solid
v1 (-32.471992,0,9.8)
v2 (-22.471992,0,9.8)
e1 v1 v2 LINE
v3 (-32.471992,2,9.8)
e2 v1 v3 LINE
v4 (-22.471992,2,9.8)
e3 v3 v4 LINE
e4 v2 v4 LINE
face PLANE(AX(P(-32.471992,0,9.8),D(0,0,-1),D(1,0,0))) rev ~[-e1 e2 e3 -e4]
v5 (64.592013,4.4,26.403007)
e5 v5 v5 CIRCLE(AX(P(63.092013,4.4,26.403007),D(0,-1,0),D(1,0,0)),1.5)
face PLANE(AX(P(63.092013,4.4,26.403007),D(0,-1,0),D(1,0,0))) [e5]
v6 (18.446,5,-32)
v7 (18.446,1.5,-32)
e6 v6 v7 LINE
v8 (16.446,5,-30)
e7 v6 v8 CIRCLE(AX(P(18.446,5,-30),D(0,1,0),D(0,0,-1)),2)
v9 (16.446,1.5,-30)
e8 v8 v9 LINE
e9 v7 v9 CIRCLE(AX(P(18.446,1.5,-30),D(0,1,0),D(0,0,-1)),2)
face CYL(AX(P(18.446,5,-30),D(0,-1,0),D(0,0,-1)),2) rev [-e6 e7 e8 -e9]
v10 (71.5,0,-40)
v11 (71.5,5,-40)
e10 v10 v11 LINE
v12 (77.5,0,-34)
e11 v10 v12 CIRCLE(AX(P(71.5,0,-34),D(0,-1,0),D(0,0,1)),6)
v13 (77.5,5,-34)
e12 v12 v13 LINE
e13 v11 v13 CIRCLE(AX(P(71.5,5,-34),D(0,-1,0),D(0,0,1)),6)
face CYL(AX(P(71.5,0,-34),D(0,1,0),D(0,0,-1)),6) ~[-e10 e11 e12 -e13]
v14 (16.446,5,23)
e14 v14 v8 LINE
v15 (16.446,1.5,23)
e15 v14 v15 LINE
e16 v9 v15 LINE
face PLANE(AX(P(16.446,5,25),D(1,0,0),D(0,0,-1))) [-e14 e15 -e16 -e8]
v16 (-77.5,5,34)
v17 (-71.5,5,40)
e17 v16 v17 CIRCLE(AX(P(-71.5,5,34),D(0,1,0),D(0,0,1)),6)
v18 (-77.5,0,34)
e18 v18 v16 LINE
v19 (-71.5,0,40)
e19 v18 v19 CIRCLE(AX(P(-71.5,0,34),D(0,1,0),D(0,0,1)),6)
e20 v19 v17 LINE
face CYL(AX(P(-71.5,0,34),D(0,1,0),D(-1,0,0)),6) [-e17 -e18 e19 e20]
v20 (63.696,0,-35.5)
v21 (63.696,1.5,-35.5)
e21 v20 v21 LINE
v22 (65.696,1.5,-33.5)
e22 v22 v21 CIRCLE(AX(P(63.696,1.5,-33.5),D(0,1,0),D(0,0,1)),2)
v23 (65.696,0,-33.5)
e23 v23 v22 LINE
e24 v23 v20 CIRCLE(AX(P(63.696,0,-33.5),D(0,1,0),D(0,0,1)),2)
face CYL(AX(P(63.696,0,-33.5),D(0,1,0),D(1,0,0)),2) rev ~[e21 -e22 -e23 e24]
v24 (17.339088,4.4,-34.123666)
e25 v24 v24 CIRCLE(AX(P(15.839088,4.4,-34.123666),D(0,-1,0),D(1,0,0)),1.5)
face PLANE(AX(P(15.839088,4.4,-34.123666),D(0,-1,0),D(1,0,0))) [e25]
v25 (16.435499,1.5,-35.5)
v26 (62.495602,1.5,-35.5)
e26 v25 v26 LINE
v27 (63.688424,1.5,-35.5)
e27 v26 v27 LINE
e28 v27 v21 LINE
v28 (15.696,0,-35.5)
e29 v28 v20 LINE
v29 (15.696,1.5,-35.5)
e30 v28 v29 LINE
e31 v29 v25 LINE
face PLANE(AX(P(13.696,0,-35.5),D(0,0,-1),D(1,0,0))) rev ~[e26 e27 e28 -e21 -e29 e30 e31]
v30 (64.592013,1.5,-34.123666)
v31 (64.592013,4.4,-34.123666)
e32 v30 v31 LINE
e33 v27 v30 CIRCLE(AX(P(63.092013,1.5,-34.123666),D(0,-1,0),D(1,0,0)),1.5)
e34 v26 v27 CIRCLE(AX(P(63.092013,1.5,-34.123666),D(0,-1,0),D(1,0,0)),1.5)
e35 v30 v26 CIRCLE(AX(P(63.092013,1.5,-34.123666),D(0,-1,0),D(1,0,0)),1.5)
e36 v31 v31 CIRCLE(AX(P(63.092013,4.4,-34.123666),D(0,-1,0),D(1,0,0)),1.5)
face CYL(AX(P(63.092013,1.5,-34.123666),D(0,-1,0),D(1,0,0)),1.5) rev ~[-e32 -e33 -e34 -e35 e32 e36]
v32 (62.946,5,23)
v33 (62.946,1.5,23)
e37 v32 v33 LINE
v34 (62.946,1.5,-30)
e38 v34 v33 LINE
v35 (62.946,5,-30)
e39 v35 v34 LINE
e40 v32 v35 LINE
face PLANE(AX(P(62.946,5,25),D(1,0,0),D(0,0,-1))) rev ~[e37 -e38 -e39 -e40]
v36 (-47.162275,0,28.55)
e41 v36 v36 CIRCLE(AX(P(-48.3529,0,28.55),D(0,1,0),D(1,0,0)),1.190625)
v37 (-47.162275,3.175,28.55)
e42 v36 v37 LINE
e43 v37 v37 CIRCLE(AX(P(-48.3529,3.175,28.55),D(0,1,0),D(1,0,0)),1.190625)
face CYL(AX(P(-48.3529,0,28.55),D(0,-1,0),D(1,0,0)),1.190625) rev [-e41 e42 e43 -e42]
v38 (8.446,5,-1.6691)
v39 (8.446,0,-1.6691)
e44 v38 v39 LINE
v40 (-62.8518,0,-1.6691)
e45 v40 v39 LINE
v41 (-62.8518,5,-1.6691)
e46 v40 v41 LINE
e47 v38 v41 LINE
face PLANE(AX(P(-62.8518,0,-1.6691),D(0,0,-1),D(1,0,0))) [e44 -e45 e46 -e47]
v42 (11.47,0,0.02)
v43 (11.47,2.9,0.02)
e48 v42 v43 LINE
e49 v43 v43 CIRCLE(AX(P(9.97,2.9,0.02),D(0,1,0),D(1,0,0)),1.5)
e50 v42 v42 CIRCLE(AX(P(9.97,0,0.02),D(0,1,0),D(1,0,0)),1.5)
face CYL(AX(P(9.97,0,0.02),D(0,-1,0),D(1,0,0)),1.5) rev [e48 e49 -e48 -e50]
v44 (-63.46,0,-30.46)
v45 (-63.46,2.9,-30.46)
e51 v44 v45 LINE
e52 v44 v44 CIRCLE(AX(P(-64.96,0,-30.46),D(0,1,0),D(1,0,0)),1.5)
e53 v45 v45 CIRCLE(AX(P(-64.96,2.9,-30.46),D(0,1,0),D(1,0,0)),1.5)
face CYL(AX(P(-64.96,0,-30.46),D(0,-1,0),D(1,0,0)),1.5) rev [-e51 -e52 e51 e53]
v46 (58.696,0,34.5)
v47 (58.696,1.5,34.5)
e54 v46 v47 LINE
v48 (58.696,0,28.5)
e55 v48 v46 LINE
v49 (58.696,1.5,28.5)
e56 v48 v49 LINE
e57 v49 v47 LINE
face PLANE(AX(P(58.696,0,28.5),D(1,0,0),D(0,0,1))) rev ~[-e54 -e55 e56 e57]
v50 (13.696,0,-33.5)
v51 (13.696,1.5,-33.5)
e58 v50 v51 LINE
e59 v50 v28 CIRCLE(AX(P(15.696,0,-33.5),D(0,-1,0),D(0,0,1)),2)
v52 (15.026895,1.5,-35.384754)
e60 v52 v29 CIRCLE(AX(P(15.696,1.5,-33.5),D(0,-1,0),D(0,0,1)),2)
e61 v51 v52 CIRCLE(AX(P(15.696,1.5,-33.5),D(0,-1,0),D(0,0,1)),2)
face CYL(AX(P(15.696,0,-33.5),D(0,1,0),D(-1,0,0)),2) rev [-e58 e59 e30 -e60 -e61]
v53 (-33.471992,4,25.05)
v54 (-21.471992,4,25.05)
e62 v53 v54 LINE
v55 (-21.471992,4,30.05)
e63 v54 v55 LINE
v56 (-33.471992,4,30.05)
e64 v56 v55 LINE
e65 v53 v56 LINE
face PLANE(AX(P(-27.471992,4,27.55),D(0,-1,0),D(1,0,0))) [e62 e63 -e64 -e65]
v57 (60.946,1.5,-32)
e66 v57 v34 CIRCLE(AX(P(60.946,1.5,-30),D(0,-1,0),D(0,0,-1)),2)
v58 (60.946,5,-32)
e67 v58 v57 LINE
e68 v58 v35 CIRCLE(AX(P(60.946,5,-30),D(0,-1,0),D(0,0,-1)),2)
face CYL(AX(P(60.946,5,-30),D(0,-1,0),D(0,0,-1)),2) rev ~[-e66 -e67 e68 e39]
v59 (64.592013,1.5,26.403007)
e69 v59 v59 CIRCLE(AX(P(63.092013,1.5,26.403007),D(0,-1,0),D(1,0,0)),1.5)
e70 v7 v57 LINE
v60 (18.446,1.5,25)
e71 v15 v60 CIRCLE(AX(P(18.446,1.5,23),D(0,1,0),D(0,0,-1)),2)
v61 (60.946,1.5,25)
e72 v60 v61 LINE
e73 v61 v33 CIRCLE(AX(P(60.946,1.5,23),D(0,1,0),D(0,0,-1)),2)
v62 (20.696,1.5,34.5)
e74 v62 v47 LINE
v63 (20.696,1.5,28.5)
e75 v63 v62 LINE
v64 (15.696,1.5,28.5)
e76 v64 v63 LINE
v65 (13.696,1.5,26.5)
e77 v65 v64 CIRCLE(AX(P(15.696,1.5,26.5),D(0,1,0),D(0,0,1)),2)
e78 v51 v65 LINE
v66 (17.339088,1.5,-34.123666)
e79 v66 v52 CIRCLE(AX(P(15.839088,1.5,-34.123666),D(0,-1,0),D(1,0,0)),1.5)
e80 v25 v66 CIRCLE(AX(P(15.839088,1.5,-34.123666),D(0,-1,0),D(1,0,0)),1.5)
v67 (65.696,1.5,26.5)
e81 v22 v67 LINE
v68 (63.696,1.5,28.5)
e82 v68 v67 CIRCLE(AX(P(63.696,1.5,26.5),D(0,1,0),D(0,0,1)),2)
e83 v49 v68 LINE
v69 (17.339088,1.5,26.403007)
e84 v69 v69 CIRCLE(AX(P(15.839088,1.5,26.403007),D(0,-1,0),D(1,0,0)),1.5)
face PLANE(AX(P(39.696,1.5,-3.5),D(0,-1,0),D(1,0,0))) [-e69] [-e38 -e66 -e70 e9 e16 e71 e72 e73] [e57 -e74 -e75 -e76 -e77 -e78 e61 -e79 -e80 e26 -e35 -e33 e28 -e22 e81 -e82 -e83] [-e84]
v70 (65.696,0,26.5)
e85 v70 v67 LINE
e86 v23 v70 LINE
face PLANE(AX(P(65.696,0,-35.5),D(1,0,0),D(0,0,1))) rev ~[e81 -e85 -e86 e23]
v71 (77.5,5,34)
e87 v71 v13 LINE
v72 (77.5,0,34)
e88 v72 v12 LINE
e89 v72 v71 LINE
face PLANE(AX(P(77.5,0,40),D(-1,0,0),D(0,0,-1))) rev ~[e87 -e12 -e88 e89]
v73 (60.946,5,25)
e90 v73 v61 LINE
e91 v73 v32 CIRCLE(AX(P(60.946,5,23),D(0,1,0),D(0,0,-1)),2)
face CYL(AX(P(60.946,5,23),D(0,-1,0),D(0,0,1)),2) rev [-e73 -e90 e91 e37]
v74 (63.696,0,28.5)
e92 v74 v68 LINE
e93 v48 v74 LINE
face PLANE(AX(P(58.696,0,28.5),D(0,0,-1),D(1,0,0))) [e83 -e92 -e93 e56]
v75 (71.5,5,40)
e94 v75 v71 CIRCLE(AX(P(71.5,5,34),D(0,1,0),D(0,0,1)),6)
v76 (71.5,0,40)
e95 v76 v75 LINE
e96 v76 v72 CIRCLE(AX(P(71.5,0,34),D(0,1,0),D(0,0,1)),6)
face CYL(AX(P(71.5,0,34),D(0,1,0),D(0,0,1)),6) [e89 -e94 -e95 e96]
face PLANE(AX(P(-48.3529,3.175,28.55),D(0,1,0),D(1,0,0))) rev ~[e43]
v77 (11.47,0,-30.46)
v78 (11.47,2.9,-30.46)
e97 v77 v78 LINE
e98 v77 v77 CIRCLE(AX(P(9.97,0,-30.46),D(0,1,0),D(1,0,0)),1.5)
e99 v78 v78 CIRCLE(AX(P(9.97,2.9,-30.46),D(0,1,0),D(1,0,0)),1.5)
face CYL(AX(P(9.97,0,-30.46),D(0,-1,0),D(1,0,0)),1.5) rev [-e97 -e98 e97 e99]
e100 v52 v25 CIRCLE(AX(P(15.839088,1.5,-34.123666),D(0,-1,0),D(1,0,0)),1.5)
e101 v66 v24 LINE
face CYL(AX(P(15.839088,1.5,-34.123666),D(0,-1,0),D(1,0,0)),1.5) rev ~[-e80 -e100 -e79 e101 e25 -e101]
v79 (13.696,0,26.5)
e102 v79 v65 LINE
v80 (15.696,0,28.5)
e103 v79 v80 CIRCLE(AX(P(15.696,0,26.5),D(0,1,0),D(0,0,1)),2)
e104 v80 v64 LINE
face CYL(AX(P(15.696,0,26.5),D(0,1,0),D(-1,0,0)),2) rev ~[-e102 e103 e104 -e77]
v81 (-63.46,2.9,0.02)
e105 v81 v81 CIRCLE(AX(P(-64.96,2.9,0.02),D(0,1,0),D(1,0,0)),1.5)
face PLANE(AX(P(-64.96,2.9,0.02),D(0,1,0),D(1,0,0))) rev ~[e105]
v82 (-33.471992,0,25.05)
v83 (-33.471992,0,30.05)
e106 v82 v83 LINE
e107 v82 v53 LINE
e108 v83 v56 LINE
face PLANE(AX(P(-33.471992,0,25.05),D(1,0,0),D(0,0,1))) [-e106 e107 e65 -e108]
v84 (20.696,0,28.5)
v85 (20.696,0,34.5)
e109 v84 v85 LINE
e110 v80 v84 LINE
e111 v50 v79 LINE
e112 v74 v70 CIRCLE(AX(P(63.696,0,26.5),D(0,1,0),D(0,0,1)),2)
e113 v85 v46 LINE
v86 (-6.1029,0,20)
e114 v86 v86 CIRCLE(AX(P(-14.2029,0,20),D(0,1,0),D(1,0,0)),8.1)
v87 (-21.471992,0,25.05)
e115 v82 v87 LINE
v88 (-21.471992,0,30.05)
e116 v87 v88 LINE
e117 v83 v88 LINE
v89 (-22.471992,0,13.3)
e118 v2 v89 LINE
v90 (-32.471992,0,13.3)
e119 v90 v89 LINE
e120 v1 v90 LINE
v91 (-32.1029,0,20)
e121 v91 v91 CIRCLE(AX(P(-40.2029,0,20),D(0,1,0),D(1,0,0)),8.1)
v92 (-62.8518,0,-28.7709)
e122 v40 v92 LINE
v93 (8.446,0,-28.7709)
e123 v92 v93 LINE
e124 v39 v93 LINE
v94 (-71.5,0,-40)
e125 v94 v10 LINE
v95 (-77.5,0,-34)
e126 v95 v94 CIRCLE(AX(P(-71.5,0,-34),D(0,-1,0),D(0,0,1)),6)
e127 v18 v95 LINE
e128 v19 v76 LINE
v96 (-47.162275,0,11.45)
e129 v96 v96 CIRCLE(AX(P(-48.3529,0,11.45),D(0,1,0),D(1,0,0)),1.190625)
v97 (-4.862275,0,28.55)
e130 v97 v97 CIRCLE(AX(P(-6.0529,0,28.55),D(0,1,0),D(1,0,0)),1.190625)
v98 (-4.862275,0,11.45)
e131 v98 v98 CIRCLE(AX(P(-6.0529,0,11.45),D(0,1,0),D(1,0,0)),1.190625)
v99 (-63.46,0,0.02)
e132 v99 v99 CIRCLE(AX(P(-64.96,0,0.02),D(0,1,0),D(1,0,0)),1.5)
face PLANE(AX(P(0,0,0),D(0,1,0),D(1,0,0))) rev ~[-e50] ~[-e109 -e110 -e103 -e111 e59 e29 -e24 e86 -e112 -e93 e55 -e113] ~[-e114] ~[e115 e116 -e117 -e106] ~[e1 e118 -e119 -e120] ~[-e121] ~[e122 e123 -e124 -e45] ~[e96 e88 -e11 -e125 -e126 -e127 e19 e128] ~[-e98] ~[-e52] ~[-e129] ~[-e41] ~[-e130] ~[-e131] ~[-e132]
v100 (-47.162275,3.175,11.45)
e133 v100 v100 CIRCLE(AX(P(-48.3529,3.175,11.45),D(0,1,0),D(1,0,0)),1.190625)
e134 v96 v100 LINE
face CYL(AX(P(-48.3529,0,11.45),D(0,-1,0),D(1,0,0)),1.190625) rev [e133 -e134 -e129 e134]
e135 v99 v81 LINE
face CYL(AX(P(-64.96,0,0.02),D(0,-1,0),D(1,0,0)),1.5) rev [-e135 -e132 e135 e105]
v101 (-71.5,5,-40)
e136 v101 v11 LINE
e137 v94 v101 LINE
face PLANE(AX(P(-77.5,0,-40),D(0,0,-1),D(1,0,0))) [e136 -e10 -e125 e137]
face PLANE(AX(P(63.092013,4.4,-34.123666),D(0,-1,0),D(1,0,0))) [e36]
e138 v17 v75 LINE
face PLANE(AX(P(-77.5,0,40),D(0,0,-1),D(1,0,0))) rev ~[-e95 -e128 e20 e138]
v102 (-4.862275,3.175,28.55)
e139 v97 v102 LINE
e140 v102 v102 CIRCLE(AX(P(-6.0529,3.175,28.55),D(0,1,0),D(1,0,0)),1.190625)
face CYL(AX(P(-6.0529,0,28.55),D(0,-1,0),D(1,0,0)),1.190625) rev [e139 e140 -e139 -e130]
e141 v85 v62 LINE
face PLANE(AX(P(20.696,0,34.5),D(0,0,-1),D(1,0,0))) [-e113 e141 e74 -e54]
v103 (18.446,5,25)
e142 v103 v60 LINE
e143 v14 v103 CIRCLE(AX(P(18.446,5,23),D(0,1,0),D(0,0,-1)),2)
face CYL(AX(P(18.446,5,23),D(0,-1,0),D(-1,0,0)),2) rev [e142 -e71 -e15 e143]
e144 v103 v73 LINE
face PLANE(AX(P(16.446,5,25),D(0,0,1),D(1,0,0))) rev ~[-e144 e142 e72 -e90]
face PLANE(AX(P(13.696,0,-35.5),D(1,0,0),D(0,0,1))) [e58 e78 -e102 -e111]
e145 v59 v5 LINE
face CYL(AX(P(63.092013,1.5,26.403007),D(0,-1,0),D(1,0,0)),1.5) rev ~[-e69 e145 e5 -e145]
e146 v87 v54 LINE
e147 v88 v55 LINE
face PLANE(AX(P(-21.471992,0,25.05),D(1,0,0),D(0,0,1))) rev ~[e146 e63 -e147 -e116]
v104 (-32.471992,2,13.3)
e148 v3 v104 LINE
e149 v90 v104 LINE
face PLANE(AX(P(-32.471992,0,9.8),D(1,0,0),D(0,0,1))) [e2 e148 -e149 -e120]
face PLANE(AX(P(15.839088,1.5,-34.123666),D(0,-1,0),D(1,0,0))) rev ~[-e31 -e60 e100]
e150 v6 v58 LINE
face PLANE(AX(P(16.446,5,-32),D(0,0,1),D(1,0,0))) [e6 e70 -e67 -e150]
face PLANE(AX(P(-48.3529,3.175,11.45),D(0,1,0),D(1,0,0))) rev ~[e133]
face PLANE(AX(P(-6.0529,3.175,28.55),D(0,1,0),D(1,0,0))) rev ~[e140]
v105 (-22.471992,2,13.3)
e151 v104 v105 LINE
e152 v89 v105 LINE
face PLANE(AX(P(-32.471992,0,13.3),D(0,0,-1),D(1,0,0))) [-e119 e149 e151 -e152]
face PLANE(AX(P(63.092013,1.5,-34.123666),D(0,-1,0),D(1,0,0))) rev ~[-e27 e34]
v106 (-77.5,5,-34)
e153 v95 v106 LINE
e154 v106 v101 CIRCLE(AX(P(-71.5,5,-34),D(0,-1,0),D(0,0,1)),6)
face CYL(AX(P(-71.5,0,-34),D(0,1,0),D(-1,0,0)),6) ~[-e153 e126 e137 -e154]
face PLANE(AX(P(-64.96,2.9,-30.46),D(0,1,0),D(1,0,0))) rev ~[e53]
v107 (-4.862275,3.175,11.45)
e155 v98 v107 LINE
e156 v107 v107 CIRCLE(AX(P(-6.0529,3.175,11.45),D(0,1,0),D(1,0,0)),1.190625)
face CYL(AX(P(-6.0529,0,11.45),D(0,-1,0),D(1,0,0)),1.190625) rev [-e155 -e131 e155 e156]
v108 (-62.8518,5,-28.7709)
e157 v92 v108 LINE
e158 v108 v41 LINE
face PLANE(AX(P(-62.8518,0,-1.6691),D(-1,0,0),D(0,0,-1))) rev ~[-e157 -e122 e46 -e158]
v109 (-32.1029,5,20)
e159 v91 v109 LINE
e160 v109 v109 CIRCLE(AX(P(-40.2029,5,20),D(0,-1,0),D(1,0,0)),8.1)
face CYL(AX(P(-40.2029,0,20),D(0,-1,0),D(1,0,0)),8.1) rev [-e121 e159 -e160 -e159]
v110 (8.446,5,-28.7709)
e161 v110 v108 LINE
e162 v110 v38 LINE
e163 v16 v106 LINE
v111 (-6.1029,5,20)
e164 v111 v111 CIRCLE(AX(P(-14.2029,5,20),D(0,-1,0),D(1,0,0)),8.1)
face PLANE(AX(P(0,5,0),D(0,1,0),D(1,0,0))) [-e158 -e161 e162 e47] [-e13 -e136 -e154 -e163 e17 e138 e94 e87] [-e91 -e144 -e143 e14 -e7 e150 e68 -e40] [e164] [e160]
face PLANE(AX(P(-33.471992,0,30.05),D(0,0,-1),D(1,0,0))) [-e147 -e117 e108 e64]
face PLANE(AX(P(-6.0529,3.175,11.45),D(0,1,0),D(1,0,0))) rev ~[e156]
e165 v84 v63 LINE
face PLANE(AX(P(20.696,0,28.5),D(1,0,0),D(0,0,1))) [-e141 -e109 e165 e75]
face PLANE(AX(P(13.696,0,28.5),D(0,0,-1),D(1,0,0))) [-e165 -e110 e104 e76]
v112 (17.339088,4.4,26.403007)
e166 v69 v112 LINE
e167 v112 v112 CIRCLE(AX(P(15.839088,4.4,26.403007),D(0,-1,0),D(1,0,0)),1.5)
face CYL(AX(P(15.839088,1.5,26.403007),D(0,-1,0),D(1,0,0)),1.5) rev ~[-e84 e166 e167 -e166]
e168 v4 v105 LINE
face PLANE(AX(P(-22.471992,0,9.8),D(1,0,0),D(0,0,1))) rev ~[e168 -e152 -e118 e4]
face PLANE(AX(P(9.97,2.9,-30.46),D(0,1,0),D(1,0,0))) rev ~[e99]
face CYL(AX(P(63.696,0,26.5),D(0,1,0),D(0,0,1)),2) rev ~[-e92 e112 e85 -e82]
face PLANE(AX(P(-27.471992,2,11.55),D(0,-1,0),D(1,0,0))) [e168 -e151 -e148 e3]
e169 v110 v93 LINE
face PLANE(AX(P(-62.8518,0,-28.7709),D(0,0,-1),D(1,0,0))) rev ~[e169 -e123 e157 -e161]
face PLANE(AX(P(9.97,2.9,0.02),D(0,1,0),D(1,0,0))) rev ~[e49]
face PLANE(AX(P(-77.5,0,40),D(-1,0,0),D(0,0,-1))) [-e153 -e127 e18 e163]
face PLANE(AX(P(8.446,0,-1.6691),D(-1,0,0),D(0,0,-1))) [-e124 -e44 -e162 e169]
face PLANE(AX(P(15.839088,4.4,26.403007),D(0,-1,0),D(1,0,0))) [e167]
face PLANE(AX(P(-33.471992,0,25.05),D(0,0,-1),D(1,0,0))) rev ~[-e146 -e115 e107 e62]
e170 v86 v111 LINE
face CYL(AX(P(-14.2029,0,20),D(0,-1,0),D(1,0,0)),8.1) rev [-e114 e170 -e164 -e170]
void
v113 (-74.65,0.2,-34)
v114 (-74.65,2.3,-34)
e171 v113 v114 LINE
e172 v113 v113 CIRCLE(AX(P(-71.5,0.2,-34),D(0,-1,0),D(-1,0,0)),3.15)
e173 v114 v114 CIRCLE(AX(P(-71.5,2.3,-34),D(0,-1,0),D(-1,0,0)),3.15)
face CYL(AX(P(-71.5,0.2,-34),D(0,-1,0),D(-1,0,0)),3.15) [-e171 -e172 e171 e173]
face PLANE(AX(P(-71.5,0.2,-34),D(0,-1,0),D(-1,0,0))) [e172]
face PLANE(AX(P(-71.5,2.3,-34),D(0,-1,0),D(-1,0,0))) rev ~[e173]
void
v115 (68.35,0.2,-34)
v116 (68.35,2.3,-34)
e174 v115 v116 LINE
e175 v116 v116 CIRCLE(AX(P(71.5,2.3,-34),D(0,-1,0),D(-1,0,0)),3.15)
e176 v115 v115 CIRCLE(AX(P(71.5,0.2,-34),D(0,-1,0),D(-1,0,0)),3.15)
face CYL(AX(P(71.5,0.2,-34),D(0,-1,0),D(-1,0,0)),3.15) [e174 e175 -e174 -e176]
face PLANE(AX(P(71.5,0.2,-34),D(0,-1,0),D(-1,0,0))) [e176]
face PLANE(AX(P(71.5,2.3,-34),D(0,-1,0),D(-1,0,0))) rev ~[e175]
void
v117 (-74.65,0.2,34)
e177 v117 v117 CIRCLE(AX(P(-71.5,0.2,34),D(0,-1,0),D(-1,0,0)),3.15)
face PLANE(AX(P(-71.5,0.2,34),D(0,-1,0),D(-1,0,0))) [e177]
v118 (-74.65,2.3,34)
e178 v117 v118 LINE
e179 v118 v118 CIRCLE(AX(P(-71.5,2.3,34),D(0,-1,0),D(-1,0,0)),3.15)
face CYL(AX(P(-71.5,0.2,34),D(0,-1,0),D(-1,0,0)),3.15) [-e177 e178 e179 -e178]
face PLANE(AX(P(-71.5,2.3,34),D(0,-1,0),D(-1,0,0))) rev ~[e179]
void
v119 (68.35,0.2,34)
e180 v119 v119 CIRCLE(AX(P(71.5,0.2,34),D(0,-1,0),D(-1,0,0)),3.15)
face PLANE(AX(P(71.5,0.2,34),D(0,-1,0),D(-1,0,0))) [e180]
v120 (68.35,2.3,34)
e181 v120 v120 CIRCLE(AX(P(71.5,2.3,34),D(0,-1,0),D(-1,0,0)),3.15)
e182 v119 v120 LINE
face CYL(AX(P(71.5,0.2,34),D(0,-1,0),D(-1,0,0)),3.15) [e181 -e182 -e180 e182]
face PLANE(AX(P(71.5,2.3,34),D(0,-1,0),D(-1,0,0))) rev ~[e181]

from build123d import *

# Parameters (mm, degrees)
SKETCH1_W                = 155
SKETCH1_H                = 80
BOSS_EXTRUDE1_DEPTH      = 5
SKETCH2_W                = 71.2978
SKETCH2_H                = 27.1018
SCREEN_CUTOUT_DEPTH      = 88.357026048
SKETCH2_3_R              = 1.5
SKETCH2_3_W              = 71.2978
SKETCH2_3_H              = 27.1018
CUT_EXTRUDE4_DEPTH       = 2.9
SKETCH3_R                = 8.1
ULTRASOUND_CUTOUTS_DEPTH = 88.357026048
SKETCH3_3_R              = 8.1
SKETCH3_3_R_2            = 1.190625
CUT_EXTRUDE2_DEPTH       = 3.175
SKETCH5_W                = 12
SKETCH5_H                = 5
US_CLOCK_CUTOUT_DEPTH    = 4
SKETCH6_W                = 10
SKETCH6_H                = 3.5
US_PIN_CUTOUT_DEPTH      = 2
SKETCH9_R                = 3.15
MAGNET_HOLES_DEPTH       = 2.1
FILLET1_R                = 6
SKETCH10_W               = 46.5
SKETCH10_H               = 57
KEYPAD_CUTOUT_DEPTH      = 88.357026048
CUT_EXTRUDE1_DEPTH       = 1.5
FILLET3_R                = 2
FILLET4_R                = 2
SKETCH12_R               = 1.5
CUT_EXTRUDE3_DEPTH       = 2.9


with BuildPart() as part:
    # Sketch1 → Boss-Extrude1 (new body)
    with BuildSketch(Plane(origin=(0, 0, 0), x_dir=(1, 0, 0), z_dir=(0, 1, 0))):
        Rectangle(SKETCH1_W, SKETCH1_H)
    extrude(amount=BOSS_EXTRUDE1_DEPTH)

    # Sketch2 → Screen Cutout (cut, through all)
    with BuildSketch(Plane(origin=(0, 0, 0), x_dir=(1, 0, 0), z_dir=(0, 1, 0))):
        with Locations((-27.2029, 15.22)):
            Rectangle(SKETCH2_W, SKETCH2_H)
    extrude(amount=SCREEN_CUTOUT_DEPTH, mode=Mode.SUBTRACT)

    # Sketch2<3> → Cut-Extrude4 (cut)
    with BuildSketch(Plane(origin=(0, 0, 0), x_dir=(1, 0, 0), z_dir=(0, 1, 0))):
        with Locations((-64.96, -0.02)):
            Circle(SKETCH2_3_R)
        with Locations((9.97, -0.02)):
            Circle(SKETCH2_3_R)
        with Locations((9.97, 30.46)):
            Circle(SKETCH2_3_R)
        with Locations((-64.96, 30.46)):
            Circle(SKETCH2_3_R)
        with Locations((-27.2029, 15.22)):
            Rectangle(SKETCH2_3_W, SKETCH2_3_H)
    extrude(amount=CUT_EXTRUDE4_DEPTH, mode=Mode.SUBTRACT)

    # Sketch3 → Ultrasound Cutouts (cut, through all)
    with BuildSketch(Plane(origin=(0, 0, 0), x_dir=(1, 0, 0), z_dir=(0, 1, 0))):
        with Locations((-40.2029, -20)):
            Circle(SKETCH3_R)
        with Locations((-14.2029, -20)):
            Circle(SKETCH3_R)
    extrude(amount=ULTRASOUND_CUTOUTS_DEPTH, mode=Mode.SUBTRACT)

    # Sketch3<3> → Cut-Extrude2 (cut)
    with BuildSketch(Plane(origin=(0, 0, 0), x_dir=(1, 0, 0), z_dir=(0, 1, 0))):
        with Locations((-40.2029, -20)):
            Circle(SKETCH3_3_R)
        with Locations((-14.2029, -20)):
            Circle(SKETCH3_3_R)
        with Locations((-48.3529, -11.45)):
            Circle(SKETCH3_3_R_2)
        with Locations((-6.0529, -11.45)):
            Circle(SKETCH3_3_R_2)
        with Locations((-6.0529, -28.55)):
            Circle(SKETCH3_3_R_2)
        with Locations((-48.3529, -28.55)):
            Circle(SKETCH3_3_R_2)
    extrude(amount=CUT_EXTRUDE2_DEPTH, mode=Mode.SUBTRACT)

    # Sketch5 → US Clock cutout (cut)
    with BuildSketch(Plane.XZ):
        with Locations((-27.471992442, 27.55)):
            Rectangle(SKETCH5_W, SKETCH5_H)
    extrude(amount=-US_CLOCK_CUTOUT_DEPTH, mode=Mode.SUBTRACT)

    # Sketch6 → US Pin cutout (cut)
    with BuildSketch(Plane.XZ):
        with Locations((-27.471992442, 11.55)):
            Rectangle(SKETCH6_W, SKETCH6_H)
    extrude(amount=-US_PIN_CUTOUT_DEPTH, mode=Mode.SUBTRACT)

    # Sketch9 → Magnet Holes (cut)
    with BuildSketch(Plane(origin=(0, 0.2, 0), x_dir=(-1, 0, 0), z_dir=(0, -1, 0))):
        with Locations((-71.5, 34)):
            Circle(SKETCH9_R)
        with Locations((71.5, 34)):
            Circle(SKETCH9_R)
        with Locations((-71.5, -34)):
            Circle(SKETCH9_R)
        with Locations((71.5, -34)):
            Circle(SKETCH9_R)
    extrude(amount=-MAGNET_HOLES_DEPTH, mode=Mode.SUBTRACT)

    # Fillet1
    fillet1_edges = [part.edges().sort_by_distance(p)[0] for p in [
        (77.5, 2.5, -40),
        (77.5, 2.5, 40),
        (-77.5, 2.5, 40),
        (-77.5, 2.5, -40),
    ]]
    fillet(fillet1_edges, radius=FILLET1_R)

    # Sketch10 → Keypad cutout (cut, through all)
    with BuildSketch(Plane(origin=(0, 5, 0), x_dir=(1, 0, 0), z_dir=(0, 1, 0))):
        with Locations((39.696, 3.5)):
            Rectangle(SKETCH10_W, SKETCH10_H)
    extrude(amount=-KEYPAD_CUTOUT_DEPTH, mode=Mode.SUBTRACT)

    # Sketch11 → Cut-Extrude1 (cut)
    with BuildSketch(Plane.XZ):
        Polygon((58.696, 28.5), (58.696, 34.5), (20.696, 34.5), (20.696, 28.5), (13.696, 28.5), (13.696, -35.5), (65.696, -35.5), (65.696, 28.5), align=None)
    extrude(amount=-CUT_EXTRUDE1_DEPTH, mode=Mode.SUBTRACT)

    # Fillet3
    fillet3_edges = [part.edges().sort_by_distance(p)[0] for p in [
        (65.696, 0.75, 28.5),
        (13.696, 0.75, 28.5),
        (13.696, 0.75, -35.5),
        (65.696, 0.75, -35.5),
    ]]
    fillet(fillet3_edges, radius=FILLET3_R)

    # Fillet4
    fillet4_edges = [part.edges().sort_by_distance(p)[0] for p in [
        (62.946, 3.25, 25),
        (16.446, 3.25, 25),
        (16.446, 3.25, -32),
        (62.946, 3.25, -32),
    ]]
    fillet(fillet4_edges, radius=FILLET4_R)

    # Sketch12 → Cut-Extrude3 (cut)
    with BuildSketch(Plane.XZ.offset(-1.5)):
        with Locations((63.092012723, -34.123666466)):
            Circle(SKETCH12_R)
        with Locations((15.839087894, -34.123666466)):
            Circle(SKETCH12_R)
        with Locations((15.839087894, 26.403006737)):
            Circle(SKETCH12_R)
        with Locations((63.092012723, 26.403006737)):
            Circle(SKETCH12_R)
    extrude(amount=-CUT_EXTRUDE3_DEPTH, mode=Mode.SUBTRACT)


solid = part.part
